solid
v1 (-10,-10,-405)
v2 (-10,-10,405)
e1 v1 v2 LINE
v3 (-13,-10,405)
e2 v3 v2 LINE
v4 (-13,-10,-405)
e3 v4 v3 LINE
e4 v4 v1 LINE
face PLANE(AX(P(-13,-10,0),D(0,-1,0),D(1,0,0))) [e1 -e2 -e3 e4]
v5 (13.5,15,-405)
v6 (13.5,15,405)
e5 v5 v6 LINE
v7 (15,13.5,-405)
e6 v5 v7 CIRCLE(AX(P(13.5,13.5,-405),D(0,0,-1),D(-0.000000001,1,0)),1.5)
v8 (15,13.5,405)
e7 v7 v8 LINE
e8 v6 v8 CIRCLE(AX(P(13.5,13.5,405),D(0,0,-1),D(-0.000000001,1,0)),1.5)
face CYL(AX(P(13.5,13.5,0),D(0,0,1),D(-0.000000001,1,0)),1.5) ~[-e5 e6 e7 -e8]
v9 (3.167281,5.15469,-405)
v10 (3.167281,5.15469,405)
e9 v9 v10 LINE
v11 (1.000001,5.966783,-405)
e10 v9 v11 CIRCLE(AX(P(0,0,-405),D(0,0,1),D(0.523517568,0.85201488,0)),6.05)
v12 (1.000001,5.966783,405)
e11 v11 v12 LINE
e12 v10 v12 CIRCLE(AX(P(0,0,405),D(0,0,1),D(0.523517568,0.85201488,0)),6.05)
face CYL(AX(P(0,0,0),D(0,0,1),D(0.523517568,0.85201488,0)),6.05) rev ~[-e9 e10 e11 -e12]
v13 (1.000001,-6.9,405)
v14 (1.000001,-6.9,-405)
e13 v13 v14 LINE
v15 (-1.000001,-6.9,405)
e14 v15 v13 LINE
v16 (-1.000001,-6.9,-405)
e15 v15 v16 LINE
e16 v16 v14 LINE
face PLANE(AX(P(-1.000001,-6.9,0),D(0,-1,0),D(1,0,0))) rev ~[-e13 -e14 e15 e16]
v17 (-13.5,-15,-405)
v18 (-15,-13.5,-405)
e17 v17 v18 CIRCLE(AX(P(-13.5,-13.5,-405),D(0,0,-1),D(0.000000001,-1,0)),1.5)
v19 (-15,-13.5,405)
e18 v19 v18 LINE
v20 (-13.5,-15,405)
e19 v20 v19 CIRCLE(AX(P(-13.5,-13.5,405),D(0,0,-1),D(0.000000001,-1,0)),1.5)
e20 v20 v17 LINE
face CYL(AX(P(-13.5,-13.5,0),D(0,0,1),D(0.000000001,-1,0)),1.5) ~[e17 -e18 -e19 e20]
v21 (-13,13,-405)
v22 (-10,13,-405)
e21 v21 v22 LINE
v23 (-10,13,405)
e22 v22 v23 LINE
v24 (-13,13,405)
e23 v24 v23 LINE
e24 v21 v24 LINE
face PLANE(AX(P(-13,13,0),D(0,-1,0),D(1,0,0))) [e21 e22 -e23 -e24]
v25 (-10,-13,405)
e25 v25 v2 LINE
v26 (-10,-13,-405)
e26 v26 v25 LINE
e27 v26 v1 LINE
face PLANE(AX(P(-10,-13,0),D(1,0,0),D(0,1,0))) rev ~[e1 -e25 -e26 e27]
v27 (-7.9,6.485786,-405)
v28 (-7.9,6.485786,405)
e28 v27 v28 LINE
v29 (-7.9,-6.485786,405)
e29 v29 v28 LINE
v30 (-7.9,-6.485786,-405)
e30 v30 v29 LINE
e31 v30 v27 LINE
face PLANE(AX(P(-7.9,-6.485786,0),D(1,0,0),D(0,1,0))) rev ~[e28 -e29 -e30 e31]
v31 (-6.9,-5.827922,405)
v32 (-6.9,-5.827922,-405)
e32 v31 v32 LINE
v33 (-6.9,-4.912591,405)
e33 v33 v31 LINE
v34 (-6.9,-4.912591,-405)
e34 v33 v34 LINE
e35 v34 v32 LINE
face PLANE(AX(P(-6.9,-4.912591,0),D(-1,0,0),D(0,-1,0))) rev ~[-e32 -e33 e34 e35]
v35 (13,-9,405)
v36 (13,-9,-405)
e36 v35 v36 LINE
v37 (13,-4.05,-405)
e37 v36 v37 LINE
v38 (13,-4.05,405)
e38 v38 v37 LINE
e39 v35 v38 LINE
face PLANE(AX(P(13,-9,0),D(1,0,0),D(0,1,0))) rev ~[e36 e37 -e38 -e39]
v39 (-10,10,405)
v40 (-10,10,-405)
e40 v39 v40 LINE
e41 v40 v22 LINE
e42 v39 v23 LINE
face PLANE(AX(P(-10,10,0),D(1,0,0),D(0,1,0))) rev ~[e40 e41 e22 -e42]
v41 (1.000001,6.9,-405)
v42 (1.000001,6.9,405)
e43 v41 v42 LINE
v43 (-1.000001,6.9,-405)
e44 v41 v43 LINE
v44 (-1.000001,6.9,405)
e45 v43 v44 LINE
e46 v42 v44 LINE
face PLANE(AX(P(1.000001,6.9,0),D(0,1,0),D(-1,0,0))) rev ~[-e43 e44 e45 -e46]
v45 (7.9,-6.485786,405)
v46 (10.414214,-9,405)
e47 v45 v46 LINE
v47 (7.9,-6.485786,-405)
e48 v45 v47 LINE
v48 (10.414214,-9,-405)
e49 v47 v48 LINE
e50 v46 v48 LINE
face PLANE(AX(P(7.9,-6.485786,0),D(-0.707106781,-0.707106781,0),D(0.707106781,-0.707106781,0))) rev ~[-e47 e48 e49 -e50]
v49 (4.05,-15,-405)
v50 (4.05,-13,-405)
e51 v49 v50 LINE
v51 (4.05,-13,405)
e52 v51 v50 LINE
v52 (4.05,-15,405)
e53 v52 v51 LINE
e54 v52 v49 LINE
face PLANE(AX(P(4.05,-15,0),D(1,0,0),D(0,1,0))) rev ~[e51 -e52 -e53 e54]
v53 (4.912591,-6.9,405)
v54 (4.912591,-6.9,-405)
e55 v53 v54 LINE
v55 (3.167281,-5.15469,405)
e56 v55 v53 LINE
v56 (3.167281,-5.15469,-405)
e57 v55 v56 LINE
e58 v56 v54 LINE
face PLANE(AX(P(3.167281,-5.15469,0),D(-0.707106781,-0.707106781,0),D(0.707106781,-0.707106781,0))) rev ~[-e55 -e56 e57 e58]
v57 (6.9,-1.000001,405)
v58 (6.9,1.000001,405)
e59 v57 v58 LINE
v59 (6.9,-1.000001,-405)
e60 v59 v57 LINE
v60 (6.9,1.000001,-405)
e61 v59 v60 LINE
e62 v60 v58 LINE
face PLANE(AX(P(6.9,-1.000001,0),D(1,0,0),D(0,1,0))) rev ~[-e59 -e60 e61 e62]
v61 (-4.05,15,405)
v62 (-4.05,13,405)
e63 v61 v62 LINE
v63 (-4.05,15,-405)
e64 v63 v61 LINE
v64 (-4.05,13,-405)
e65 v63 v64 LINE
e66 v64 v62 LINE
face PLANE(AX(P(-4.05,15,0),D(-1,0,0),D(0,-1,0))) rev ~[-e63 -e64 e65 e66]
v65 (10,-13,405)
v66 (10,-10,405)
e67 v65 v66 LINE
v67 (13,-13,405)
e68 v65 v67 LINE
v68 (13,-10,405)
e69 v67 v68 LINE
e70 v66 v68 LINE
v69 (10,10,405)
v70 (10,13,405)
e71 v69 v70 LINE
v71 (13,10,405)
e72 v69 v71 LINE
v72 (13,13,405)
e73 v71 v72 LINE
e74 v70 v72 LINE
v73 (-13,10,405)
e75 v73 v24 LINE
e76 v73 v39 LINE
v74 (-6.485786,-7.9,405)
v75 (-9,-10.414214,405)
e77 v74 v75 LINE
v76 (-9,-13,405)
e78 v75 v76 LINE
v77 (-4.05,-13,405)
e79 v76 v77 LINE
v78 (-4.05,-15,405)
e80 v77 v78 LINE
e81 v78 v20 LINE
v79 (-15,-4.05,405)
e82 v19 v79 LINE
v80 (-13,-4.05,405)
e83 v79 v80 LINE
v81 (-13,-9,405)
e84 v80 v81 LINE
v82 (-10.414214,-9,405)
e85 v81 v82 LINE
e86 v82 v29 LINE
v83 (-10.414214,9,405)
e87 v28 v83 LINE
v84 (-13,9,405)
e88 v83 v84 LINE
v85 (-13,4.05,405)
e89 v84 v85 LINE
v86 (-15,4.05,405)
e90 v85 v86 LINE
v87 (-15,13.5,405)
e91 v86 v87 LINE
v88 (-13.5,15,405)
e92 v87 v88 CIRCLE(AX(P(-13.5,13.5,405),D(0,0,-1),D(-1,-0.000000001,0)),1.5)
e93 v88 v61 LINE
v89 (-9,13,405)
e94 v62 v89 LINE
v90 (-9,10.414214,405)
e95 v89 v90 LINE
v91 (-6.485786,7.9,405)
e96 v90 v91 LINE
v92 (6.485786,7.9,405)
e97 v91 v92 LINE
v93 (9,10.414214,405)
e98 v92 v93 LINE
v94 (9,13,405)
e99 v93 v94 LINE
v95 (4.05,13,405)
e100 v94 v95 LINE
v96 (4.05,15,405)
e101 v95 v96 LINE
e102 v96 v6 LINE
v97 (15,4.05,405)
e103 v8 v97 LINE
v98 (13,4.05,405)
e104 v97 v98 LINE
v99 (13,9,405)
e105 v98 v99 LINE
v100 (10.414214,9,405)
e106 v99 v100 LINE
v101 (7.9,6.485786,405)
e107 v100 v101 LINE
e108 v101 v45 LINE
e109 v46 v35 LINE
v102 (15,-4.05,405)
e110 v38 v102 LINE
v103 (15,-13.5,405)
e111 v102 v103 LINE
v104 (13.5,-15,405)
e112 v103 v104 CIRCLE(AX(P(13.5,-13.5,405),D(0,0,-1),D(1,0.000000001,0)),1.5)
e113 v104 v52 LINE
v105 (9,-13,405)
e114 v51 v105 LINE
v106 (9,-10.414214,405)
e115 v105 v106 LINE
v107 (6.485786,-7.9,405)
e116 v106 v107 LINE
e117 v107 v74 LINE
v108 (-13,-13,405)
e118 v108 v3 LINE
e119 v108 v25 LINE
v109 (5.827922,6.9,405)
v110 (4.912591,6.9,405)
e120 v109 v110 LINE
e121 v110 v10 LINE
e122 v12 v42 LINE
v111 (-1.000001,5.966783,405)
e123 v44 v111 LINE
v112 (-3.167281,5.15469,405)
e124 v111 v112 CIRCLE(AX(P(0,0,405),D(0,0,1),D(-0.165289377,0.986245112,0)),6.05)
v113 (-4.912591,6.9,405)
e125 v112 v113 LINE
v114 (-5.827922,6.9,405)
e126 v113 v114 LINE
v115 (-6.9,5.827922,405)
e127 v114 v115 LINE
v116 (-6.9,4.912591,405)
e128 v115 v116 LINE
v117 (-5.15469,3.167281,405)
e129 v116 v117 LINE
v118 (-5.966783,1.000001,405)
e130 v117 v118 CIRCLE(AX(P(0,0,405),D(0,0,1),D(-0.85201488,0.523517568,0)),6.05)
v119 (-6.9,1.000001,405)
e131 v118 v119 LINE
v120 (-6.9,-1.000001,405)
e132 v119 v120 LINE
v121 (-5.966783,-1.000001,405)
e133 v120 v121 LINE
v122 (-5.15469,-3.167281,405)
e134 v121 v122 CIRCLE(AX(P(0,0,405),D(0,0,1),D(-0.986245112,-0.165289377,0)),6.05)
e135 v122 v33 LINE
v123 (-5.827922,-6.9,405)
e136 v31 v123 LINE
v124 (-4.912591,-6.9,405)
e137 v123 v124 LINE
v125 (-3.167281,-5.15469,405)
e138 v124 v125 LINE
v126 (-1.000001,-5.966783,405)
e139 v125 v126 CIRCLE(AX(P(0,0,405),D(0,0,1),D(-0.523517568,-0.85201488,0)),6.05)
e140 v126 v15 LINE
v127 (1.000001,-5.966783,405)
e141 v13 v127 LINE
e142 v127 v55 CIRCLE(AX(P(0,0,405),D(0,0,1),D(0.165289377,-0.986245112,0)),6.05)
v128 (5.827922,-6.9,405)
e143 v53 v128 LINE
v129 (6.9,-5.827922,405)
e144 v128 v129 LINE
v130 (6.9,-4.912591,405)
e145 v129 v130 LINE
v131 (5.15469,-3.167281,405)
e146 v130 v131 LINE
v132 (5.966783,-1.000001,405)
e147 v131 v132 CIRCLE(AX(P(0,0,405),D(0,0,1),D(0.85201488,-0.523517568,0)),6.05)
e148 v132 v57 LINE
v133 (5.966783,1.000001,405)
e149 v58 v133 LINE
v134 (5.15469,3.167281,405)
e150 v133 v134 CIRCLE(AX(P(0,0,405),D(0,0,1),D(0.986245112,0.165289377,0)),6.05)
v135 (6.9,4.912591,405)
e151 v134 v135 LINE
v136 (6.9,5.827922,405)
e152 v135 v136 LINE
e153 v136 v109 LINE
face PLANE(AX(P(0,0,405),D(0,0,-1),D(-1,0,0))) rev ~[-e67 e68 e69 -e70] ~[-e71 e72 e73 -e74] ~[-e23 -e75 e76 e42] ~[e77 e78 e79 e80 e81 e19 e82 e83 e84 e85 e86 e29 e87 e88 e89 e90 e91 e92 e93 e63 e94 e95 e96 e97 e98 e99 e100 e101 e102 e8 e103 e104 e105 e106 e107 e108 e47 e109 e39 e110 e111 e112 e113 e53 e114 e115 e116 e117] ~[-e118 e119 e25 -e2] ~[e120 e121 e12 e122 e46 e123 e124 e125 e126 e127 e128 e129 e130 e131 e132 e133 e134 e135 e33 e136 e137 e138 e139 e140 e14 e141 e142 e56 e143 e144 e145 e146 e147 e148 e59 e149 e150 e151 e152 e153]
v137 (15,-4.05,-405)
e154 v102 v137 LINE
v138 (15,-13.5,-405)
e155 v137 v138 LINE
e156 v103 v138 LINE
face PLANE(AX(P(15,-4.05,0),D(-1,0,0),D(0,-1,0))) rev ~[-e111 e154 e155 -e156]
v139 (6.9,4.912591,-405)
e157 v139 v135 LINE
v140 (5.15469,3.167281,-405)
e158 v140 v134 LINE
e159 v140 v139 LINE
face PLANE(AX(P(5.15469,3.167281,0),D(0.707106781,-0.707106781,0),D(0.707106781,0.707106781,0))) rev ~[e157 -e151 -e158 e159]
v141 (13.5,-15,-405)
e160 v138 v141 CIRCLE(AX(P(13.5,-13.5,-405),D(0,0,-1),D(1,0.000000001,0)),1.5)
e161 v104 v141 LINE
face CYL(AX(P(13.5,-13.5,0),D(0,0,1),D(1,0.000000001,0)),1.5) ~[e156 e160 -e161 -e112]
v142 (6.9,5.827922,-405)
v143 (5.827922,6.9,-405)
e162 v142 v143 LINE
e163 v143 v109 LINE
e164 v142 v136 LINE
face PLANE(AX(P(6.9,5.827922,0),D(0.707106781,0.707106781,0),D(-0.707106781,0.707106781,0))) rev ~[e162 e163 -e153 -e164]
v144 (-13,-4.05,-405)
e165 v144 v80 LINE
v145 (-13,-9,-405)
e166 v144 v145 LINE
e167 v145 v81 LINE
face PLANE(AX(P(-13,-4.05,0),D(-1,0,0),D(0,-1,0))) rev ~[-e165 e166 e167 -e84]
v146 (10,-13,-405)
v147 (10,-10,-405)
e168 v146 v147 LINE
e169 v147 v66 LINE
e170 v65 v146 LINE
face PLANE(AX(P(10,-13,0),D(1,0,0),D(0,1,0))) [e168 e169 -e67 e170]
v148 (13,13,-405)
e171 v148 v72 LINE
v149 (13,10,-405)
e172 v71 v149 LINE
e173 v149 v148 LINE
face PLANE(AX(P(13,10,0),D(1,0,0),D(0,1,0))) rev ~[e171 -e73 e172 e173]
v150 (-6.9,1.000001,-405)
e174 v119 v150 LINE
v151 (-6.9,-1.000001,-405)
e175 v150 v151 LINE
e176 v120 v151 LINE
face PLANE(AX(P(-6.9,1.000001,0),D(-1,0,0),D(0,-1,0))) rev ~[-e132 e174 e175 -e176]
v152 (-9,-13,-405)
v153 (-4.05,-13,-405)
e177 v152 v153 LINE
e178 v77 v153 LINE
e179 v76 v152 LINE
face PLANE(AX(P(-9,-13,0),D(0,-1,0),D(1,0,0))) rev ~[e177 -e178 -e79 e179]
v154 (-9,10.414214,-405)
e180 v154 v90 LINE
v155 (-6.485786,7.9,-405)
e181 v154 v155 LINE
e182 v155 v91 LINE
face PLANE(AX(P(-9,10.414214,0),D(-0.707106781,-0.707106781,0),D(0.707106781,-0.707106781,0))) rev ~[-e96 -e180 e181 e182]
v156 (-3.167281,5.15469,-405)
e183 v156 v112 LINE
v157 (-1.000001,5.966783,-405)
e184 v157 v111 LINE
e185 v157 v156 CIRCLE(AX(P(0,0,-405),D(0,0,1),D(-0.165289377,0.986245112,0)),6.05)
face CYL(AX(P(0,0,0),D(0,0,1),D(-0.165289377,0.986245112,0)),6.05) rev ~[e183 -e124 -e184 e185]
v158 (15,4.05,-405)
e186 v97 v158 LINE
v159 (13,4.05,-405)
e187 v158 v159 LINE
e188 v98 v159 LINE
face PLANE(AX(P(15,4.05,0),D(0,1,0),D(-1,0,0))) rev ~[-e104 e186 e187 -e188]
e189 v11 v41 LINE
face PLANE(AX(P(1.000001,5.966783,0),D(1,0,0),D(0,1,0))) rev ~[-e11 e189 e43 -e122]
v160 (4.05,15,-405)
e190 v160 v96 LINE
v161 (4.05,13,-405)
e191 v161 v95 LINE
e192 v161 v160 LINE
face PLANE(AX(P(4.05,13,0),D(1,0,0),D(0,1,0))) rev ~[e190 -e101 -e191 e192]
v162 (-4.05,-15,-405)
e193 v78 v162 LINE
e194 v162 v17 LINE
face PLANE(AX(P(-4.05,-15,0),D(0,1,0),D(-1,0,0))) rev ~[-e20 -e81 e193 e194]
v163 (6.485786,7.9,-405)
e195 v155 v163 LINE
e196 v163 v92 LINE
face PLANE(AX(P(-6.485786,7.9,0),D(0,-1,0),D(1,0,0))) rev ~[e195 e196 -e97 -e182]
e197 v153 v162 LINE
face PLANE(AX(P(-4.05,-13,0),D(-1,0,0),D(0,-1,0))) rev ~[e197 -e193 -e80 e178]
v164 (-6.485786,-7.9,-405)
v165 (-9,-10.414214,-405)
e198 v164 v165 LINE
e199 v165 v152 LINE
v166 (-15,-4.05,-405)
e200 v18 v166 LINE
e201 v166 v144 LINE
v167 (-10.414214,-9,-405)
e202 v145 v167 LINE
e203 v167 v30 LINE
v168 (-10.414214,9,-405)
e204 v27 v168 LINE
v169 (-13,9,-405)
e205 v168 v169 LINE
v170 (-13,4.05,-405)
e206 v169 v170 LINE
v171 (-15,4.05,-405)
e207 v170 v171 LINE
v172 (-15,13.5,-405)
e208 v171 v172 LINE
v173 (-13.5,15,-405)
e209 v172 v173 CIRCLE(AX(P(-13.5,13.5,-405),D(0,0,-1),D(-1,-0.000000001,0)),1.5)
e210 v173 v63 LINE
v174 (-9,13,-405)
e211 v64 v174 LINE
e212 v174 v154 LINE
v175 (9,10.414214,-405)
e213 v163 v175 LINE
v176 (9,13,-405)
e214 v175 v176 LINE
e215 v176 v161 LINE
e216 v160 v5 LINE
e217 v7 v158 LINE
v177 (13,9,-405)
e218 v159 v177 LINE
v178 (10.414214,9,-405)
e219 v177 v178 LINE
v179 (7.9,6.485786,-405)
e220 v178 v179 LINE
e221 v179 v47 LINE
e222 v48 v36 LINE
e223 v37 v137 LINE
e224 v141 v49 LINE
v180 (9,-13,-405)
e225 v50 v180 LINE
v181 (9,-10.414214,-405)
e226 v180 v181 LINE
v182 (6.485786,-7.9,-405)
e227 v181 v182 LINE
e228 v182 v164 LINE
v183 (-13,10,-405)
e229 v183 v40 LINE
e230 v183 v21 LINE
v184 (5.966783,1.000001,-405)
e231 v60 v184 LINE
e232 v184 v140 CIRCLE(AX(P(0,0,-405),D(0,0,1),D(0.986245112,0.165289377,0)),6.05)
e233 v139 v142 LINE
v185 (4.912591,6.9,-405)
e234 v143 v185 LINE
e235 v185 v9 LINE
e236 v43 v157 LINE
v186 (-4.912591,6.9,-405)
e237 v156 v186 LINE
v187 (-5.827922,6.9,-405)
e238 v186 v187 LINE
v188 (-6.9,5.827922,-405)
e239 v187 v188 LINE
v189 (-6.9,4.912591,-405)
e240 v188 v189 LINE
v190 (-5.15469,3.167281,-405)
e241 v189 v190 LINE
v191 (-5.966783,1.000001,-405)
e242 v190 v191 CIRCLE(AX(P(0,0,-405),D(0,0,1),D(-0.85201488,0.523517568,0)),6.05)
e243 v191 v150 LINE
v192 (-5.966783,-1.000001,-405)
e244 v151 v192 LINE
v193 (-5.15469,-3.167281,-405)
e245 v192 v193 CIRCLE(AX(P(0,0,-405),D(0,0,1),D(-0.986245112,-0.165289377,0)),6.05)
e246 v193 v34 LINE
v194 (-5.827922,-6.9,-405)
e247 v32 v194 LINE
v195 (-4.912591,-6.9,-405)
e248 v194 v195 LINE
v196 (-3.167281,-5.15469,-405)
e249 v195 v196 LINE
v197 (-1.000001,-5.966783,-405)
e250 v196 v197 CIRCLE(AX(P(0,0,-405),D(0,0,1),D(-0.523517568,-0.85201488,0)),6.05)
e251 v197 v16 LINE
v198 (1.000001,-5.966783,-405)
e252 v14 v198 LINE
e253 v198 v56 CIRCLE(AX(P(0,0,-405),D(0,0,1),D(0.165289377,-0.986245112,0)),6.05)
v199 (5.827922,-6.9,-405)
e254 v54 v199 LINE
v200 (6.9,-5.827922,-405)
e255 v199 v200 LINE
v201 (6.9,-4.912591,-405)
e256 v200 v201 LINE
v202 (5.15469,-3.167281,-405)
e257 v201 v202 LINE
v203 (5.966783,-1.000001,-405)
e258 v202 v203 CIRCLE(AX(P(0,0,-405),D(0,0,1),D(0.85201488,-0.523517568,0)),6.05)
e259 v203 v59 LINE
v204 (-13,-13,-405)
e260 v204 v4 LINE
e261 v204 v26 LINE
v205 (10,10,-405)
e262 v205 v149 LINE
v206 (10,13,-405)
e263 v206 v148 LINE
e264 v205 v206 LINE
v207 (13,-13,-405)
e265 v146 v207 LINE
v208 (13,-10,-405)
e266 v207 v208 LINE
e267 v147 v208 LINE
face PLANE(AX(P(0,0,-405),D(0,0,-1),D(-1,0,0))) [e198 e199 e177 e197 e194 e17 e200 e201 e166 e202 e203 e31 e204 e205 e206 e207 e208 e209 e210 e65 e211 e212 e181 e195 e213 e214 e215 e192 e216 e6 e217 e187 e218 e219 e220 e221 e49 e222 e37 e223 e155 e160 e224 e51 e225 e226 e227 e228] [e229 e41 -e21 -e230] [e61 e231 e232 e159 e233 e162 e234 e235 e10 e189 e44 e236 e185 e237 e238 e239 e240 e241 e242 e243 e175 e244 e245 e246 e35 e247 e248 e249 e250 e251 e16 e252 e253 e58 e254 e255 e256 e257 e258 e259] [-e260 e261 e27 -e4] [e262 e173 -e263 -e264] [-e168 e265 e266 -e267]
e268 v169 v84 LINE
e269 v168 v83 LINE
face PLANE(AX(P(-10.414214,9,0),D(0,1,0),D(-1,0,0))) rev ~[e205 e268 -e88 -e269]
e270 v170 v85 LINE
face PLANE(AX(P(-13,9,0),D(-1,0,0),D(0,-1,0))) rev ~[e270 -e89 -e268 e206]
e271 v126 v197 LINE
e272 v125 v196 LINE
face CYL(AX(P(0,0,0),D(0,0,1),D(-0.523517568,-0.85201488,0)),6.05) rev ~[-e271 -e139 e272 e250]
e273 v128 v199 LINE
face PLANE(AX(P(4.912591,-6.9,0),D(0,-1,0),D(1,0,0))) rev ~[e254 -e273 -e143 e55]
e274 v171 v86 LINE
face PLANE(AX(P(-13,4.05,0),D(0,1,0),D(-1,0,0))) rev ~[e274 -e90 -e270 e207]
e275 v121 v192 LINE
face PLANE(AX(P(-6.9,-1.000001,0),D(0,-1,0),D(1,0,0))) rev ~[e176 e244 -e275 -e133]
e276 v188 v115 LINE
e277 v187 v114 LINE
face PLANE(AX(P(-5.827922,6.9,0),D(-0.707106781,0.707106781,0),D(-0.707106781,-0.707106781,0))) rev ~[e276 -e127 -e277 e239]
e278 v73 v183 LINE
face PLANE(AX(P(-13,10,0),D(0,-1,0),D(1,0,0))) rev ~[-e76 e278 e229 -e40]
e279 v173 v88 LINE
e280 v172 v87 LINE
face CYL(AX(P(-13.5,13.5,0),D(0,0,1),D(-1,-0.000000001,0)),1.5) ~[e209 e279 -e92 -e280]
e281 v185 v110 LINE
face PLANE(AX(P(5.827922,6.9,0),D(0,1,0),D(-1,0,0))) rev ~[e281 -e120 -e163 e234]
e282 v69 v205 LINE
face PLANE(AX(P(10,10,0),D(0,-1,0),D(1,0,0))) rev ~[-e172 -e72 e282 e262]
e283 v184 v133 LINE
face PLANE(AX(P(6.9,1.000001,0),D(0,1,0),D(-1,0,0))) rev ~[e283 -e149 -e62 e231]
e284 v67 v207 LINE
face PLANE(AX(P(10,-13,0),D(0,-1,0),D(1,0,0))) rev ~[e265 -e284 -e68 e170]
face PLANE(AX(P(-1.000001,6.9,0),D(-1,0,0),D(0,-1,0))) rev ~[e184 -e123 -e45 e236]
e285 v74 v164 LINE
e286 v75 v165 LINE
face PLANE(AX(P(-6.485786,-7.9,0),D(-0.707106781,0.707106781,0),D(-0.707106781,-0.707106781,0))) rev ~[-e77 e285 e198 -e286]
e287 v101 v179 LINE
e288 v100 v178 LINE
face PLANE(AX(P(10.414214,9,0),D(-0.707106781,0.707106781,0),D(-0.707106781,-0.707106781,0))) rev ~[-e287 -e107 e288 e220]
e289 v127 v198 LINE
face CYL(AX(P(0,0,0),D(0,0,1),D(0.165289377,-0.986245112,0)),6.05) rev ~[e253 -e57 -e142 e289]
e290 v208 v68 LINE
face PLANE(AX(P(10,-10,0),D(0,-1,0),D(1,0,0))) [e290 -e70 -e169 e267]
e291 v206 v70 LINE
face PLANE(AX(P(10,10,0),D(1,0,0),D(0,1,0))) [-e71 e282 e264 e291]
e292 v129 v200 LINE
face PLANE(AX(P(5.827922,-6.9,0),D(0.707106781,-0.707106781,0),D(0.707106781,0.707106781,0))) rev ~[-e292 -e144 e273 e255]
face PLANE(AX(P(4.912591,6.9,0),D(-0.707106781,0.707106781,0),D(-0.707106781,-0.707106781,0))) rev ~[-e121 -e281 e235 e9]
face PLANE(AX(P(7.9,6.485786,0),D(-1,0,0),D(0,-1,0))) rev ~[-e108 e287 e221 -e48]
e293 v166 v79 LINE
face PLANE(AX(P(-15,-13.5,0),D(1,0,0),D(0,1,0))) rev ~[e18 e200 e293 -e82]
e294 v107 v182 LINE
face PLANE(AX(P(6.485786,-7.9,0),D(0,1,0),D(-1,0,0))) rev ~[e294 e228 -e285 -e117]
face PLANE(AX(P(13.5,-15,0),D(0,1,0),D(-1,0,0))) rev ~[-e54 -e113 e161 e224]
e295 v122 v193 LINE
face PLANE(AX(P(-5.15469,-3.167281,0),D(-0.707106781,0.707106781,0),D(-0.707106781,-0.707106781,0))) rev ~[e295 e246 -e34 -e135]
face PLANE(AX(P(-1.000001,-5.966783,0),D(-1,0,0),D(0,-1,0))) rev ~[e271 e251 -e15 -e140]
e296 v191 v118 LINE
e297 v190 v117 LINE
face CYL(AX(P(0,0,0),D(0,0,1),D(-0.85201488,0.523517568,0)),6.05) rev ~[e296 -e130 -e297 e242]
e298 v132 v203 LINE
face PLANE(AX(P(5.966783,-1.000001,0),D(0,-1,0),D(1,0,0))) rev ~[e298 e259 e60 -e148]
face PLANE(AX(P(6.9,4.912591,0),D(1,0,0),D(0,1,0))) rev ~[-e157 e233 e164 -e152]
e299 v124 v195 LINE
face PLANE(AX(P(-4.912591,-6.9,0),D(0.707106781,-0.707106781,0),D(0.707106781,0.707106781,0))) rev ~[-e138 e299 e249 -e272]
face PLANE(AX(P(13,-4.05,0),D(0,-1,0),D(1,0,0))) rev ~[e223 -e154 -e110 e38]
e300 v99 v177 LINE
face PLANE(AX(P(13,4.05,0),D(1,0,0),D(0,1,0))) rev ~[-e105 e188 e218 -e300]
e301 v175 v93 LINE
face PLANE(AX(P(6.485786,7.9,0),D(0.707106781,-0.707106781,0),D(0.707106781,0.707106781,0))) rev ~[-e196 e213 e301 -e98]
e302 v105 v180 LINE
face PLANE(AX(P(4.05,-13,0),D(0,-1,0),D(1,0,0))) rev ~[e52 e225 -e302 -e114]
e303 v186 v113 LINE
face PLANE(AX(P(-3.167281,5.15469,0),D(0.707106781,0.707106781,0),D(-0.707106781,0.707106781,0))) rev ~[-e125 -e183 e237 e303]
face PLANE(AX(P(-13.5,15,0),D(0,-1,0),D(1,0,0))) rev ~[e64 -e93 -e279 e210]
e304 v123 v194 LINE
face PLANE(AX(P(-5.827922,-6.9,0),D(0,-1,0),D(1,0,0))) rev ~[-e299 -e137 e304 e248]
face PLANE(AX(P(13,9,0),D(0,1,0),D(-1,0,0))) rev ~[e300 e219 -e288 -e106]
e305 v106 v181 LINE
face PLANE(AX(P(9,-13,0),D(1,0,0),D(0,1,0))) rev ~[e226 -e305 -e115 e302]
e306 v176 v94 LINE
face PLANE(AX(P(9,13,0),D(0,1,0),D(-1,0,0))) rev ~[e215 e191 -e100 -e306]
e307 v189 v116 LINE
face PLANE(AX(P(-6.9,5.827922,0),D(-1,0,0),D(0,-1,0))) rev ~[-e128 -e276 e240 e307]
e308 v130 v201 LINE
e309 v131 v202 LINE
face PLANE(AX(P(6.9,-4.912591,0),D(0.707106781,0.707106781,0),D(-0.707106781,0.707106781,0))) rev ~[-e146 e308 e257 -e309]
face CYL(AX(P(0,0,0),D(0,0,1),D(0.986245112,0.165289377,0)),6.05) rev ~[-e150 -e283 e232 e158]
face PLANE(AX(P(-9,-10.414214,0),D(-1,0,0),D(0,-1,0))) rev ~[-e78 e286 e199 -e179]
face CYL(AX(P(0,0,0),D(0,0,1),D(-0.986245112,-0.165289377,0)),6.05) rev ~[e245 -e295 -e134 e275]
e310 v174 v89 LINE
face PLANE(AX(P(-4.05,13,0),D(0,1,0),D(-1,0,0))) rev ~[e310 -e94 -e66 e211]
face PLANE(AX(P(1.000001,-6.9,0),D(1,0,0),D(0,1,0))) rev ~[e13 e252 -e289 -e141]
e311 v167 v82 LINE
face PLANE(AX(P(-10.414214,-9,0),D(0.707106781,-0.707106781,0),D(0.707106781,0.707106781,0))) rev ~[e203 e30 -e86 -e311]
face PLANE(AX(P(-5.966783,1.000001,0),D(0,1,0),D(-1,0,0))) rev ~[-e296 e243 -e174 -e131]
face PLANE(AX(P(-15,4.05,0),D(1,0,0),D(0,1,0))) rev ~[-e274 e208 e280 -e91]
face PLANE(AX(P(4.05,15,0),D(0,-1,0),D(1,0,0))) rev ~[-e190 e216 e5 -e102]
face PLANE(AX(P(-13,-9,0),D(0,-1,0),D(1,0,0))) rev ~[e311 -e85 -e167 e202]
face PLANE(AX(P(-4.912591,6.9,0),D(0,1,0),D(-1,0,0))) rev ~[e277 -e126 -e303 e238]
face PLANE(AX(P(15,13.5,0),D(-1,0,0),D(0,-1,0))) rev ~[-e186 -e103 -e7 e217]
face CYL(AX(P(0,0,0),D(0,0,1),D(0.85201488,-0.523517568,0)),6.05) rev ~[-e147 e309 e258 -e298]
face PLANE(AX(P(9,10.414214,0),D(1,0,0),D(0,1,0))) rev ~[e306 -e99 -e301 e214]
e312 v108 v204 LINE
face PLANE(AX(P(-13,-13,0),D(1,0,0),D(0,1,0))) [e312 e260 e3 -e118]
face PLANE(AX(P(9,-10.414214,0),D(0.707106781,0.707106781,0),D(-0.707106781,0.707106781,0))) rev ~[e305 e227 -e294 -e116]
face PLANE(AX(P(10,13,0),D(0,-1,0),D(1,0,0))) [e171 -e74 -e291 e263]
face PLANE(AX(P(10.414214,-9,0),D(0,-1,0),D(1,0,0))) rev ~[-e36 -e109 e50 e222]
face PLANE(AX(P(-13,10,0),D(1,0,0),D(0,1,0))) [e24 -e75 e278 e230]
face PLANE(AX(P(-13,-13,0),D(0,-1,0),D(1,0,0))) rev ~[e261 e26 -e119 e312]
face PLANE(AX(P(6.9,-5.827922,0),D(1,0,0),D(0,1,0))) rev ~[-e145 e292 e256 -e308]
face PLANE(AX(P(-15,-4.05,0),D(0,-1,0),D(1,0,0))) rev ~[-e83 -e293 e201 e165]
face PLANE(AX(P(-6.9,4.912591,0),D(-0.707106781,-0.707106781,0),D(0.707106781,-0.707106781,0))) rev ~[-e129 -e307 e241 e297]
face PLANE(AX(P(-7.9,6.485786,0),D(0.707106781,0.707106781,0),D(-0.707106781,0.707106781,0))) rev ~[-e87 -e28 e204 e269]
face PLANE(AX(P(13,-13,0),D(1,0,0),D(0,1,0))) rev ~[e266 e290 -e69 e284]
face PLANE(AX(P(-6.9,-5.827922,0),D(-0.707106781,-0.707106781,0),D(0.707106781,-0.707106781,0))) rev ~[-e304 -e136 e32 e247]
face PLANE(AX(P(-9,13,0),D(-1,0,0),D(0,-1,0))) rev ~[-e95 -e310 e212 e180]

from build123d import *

# Parameters (mm, degrees)
ESBO_O1_W                = 3
ESBO_O1_H                = 3
RESSALTO_EXTRUS_O1_DEPTH = 405


with BuildPart() as part:
    # Esboço1 → Ressalto-extrusão1 (new, symmetric)
    with BuildSketch(Plane.XY):
        with BuildLine():
            Line((15, 13.5), (15, 4.05))
            Line((15, 4.05), (13, 4.05))
            Line((13, 4.05), (13, 9))
            Line((13, 9), (10.414213562, 9))
            Line((10.414213562, 9), (7.9, 6.485786438))
            Line((7.9, 6.485786438), (7.9, -7.36e-07))
            Line((7.9, -7.36e-07), (7.9, -6.485786438))
            Line((7.9, -6.485786438), (10.414213562, -9))
            Line((10.414213562, -9), (13, -9))
            Line((13, -9), (13, -4.05))
            Line((13, -4.05), (15, -4.05))
            Line((15, -4.05), (15, -13.5))
            ThreePointArc((15, -13.5), (14.560660172, -14.560660172), (13.5, -15))
            Line((13.5, -15), (4.05, -15))
            Line((4.05, -15), (4.05, -13))
            Line((4.05, -13), (9, -13))
            Line((9, -13), (9, -10.414213562))
            Line((9, -10.414213562), (6.485786438, -7.9))
            Line((6.485786438, -7.9), (-7.36e-07, -7.9))
            Line((-7.36e-07, -7.9), (-6.485786438, -7.9))
            Line((-6.485786438, -7.9), (-9, -10.414213562))
            Line((-9, -10.414213562), (-9, -13))
            Line((-9, -13), (-4.05, -13))
            Line((-4.05, -13), (-4.05, -15))
            Line((-4.05, -15), (-13.5, -15))
            ThreePointArc((-13.5, -15), (-14.560660172, -14.560660172), (-15, -13.5))
            Line((-15, -13.5), (-15, -4.05))
            Line((-15, -4.05), (-13, -4.05))
            Line((-13, -4.05), (-13, -9))
            Line((-13, -9), (-10.414213562, -9))
            Line((-10.414213562, -9), (-7.9, -6.485786438))
            Line((-7.9, -6.485786438), (-7.9, 7.36e-07))
            Line((-7.9, 7.36e-07), (-7.9, 6.485786438))
            Line((-7.9, 6.485786438), (-10.414213562, 9))
            Line((-10.414213562, 9), (-13, 9))
            Line((-13, 9), (-13, 4.05))
            Line((-13, 4.05), (-15, 4.05))
            Line((-15, 4.05), (-15, 13.5))
            ThreePointArc((-15, 13.5), (-14.560660172, 14.560660172), (-13.5, 15))
            Line((-13.5, 15), (-4.05, 15))
            Line((-4.05, 15), (-4.05, 13))
            Line((-4.05, 13), (-9, 13))
            Line((-9, 13), (-9, 10.414213562))
            Line((-9, 10.414213562), (-6.485786438, 7.9))
            Line((-6.485786438, 7.9), (7.36e-07, 7.9))
            Line((7.36e-07, 7.9), (6.485786438, 7.9))
            Line((6.485786438, 7.9), (9, 10.414213562))
            Line((9, 10.414213562), (9, 13))
            Line((9, 13), (4.05, 13))
            Line((4.05, 13), (4.05, 15))
            Line((4.05, 15), (13.5, 15))
            ThreePointArc((13.5, 15), (14.560660172, 14.560660172), (15, 13.5))
        make_face()
        with Locations((-11.5, 11.5)):
            Rectangle(ESBO_O1_W, ESBO_O1_H, mode=Mode.SUBTRACT)
        with BuildLine():
            Line((-6.9, 1.000000736), (-6.9, 7.36e-07))
            Line((-6.9, 7.36e-07), (-6.9, -1.000000736))
            Line((-6.9, -1.000000736), (-5.966782929, -1.000000736))
            ThreePointArc((-5.966782929, -1.000000736), (-5.665339038, -2.122836212), (-5.154690025, -3.167281286))
            Line((-5.154690025, -3.167281286), (-6.9, -4.91259126))
            Line((-6.9, -4.91259126), (-6.9, -5.827922061))
            Line((-6.9, -5.827922061), (-5.827922061, -6.9))
            Line((-5.827922061, -6.9), (-4.91259126, -6.9))
            Line((-4.91259126, -6.9), (-3.167281286, -5.154690025))
            ThreePointArc((-3.167281286, -5.154690025), (-2.122836212, -5.665339038), (-1.000000736, -5.966782929))
            Line((-1.000000736, -5.966782929), (-1.000000736, -6.9))
            Line((-1.000000736, -6.9), (-7.36e-07, -6.9))
            Line((-7.36e-07, -6.9), (1.000000736, -6.9))
            Line((1.000000736, -6.9), (1.000000736, -5.966782929))
            ThreePointArc((1.000000736, -5.966782929), (2.122836212, -5.665339038), (3.167281286, -5.154690025))
            Line((3.167281286, -5.154690025), (4.91259126, -6.9))
            Line((4.91259126, -6.9), (5.827922061, -6.9))
            Line((5.827922061, -6.9), (6.9, -5.827922061))
            Line((6.9, -5.827922061), (6.9, -4.91259126))
            Line((6.9, -4.91259126), (5.154690025, -3.167281286))
            ThreePointArc((5.154690025, -3.167281286), (5.665339038, -2.122836212), (5.966782929, -1.000000736))
            Line((5.966782929, -1.000000736), (6.9, -1.000000736))
            Line((6.9, -1.000000736), (6.9, -7.36e-07))
            Line((6.9, -7.36e-07), (6.9, 1.000000736))
            Line((6.9, 1.000000736), (5.966782929, 1.000000736))
            ThreePointArc((5.966782929, 1.000000736), (5.665339038, 2.122836212), (5.154690025, 3.167281286))
            Line((5.154690025, 3.167281286), (6.9, 4.91259126))
            Line((6.9, 4.91259126), (6.9, 5.827922061))
            Line((6.9, 5.827922061), (5.827922061, 6.9))
            Line((5.827922061, 6.9), (4.91259126, 6.9))
            Line((4.91259126, 6.9), (3.167281286, 5.154690025))
            ThreePointArc((3.167281286, 5.154690025), (2.122836212, 5.665339038), (1.000000736, 5.966782929))
            Line((1.000000736, 5.966782929), (1.000000736, 6.9))
            Line((1.000000736, 6.9), (7.36e-07, 6.9))
            Line((7.36e-07, 6.9), (-1.000000736, 6.9))
            Line((-1.000000736, 6.9), (-1.000000736, 5.966782929))
            ThreePointArc((-1.000000736, 5.966782929), (-2.122836212, 5.665339038), (-3.167281286, 5.154690025))
            Line((-3.167281286, 5.154690025), (-4.91259126, 6.9))
            Line((-4.91259126, 6.9), (-5.827922061, 6.9))
            Line((-5.827922061, 6.9), (-6.9, 5.827922061))
            Line((-6.9, 5.827922061), (-6.9, 4.91259126))
            Line((-6.9, 4.91259126), (-5.154690025, 3.167281286))
            ThreePointArc((-5.154690025, 3.167281286), (-5.665339038, 2.122836212), (-5.966782929, 1.000000736))
            Line((-5.966782929, 1.000000736), (-6.9, 1.000000736))
        make_face(mode=Mode.SUBTRACT)
        with Locations((11.5, 11.5)):
            Rectangle(ESBO_O1_W, ESBO_O1_H, mode=Mode.SUBTRACT)
        with Locations((11.5, -11.5)):
            Rectangle(ESBO_O1_W, ESBO_O1_H, mode=Mode.SUBTRACT)
        with Locations((-11.5, -11.5)):
            Rectangle(ESBO_O1_W, ESBO_O1_H, mode=Mode.SUBTRACT)
    extrude(amount=RESSALTO_EXTRUS_O1_DEPTH, both=True)


solid = part.part
